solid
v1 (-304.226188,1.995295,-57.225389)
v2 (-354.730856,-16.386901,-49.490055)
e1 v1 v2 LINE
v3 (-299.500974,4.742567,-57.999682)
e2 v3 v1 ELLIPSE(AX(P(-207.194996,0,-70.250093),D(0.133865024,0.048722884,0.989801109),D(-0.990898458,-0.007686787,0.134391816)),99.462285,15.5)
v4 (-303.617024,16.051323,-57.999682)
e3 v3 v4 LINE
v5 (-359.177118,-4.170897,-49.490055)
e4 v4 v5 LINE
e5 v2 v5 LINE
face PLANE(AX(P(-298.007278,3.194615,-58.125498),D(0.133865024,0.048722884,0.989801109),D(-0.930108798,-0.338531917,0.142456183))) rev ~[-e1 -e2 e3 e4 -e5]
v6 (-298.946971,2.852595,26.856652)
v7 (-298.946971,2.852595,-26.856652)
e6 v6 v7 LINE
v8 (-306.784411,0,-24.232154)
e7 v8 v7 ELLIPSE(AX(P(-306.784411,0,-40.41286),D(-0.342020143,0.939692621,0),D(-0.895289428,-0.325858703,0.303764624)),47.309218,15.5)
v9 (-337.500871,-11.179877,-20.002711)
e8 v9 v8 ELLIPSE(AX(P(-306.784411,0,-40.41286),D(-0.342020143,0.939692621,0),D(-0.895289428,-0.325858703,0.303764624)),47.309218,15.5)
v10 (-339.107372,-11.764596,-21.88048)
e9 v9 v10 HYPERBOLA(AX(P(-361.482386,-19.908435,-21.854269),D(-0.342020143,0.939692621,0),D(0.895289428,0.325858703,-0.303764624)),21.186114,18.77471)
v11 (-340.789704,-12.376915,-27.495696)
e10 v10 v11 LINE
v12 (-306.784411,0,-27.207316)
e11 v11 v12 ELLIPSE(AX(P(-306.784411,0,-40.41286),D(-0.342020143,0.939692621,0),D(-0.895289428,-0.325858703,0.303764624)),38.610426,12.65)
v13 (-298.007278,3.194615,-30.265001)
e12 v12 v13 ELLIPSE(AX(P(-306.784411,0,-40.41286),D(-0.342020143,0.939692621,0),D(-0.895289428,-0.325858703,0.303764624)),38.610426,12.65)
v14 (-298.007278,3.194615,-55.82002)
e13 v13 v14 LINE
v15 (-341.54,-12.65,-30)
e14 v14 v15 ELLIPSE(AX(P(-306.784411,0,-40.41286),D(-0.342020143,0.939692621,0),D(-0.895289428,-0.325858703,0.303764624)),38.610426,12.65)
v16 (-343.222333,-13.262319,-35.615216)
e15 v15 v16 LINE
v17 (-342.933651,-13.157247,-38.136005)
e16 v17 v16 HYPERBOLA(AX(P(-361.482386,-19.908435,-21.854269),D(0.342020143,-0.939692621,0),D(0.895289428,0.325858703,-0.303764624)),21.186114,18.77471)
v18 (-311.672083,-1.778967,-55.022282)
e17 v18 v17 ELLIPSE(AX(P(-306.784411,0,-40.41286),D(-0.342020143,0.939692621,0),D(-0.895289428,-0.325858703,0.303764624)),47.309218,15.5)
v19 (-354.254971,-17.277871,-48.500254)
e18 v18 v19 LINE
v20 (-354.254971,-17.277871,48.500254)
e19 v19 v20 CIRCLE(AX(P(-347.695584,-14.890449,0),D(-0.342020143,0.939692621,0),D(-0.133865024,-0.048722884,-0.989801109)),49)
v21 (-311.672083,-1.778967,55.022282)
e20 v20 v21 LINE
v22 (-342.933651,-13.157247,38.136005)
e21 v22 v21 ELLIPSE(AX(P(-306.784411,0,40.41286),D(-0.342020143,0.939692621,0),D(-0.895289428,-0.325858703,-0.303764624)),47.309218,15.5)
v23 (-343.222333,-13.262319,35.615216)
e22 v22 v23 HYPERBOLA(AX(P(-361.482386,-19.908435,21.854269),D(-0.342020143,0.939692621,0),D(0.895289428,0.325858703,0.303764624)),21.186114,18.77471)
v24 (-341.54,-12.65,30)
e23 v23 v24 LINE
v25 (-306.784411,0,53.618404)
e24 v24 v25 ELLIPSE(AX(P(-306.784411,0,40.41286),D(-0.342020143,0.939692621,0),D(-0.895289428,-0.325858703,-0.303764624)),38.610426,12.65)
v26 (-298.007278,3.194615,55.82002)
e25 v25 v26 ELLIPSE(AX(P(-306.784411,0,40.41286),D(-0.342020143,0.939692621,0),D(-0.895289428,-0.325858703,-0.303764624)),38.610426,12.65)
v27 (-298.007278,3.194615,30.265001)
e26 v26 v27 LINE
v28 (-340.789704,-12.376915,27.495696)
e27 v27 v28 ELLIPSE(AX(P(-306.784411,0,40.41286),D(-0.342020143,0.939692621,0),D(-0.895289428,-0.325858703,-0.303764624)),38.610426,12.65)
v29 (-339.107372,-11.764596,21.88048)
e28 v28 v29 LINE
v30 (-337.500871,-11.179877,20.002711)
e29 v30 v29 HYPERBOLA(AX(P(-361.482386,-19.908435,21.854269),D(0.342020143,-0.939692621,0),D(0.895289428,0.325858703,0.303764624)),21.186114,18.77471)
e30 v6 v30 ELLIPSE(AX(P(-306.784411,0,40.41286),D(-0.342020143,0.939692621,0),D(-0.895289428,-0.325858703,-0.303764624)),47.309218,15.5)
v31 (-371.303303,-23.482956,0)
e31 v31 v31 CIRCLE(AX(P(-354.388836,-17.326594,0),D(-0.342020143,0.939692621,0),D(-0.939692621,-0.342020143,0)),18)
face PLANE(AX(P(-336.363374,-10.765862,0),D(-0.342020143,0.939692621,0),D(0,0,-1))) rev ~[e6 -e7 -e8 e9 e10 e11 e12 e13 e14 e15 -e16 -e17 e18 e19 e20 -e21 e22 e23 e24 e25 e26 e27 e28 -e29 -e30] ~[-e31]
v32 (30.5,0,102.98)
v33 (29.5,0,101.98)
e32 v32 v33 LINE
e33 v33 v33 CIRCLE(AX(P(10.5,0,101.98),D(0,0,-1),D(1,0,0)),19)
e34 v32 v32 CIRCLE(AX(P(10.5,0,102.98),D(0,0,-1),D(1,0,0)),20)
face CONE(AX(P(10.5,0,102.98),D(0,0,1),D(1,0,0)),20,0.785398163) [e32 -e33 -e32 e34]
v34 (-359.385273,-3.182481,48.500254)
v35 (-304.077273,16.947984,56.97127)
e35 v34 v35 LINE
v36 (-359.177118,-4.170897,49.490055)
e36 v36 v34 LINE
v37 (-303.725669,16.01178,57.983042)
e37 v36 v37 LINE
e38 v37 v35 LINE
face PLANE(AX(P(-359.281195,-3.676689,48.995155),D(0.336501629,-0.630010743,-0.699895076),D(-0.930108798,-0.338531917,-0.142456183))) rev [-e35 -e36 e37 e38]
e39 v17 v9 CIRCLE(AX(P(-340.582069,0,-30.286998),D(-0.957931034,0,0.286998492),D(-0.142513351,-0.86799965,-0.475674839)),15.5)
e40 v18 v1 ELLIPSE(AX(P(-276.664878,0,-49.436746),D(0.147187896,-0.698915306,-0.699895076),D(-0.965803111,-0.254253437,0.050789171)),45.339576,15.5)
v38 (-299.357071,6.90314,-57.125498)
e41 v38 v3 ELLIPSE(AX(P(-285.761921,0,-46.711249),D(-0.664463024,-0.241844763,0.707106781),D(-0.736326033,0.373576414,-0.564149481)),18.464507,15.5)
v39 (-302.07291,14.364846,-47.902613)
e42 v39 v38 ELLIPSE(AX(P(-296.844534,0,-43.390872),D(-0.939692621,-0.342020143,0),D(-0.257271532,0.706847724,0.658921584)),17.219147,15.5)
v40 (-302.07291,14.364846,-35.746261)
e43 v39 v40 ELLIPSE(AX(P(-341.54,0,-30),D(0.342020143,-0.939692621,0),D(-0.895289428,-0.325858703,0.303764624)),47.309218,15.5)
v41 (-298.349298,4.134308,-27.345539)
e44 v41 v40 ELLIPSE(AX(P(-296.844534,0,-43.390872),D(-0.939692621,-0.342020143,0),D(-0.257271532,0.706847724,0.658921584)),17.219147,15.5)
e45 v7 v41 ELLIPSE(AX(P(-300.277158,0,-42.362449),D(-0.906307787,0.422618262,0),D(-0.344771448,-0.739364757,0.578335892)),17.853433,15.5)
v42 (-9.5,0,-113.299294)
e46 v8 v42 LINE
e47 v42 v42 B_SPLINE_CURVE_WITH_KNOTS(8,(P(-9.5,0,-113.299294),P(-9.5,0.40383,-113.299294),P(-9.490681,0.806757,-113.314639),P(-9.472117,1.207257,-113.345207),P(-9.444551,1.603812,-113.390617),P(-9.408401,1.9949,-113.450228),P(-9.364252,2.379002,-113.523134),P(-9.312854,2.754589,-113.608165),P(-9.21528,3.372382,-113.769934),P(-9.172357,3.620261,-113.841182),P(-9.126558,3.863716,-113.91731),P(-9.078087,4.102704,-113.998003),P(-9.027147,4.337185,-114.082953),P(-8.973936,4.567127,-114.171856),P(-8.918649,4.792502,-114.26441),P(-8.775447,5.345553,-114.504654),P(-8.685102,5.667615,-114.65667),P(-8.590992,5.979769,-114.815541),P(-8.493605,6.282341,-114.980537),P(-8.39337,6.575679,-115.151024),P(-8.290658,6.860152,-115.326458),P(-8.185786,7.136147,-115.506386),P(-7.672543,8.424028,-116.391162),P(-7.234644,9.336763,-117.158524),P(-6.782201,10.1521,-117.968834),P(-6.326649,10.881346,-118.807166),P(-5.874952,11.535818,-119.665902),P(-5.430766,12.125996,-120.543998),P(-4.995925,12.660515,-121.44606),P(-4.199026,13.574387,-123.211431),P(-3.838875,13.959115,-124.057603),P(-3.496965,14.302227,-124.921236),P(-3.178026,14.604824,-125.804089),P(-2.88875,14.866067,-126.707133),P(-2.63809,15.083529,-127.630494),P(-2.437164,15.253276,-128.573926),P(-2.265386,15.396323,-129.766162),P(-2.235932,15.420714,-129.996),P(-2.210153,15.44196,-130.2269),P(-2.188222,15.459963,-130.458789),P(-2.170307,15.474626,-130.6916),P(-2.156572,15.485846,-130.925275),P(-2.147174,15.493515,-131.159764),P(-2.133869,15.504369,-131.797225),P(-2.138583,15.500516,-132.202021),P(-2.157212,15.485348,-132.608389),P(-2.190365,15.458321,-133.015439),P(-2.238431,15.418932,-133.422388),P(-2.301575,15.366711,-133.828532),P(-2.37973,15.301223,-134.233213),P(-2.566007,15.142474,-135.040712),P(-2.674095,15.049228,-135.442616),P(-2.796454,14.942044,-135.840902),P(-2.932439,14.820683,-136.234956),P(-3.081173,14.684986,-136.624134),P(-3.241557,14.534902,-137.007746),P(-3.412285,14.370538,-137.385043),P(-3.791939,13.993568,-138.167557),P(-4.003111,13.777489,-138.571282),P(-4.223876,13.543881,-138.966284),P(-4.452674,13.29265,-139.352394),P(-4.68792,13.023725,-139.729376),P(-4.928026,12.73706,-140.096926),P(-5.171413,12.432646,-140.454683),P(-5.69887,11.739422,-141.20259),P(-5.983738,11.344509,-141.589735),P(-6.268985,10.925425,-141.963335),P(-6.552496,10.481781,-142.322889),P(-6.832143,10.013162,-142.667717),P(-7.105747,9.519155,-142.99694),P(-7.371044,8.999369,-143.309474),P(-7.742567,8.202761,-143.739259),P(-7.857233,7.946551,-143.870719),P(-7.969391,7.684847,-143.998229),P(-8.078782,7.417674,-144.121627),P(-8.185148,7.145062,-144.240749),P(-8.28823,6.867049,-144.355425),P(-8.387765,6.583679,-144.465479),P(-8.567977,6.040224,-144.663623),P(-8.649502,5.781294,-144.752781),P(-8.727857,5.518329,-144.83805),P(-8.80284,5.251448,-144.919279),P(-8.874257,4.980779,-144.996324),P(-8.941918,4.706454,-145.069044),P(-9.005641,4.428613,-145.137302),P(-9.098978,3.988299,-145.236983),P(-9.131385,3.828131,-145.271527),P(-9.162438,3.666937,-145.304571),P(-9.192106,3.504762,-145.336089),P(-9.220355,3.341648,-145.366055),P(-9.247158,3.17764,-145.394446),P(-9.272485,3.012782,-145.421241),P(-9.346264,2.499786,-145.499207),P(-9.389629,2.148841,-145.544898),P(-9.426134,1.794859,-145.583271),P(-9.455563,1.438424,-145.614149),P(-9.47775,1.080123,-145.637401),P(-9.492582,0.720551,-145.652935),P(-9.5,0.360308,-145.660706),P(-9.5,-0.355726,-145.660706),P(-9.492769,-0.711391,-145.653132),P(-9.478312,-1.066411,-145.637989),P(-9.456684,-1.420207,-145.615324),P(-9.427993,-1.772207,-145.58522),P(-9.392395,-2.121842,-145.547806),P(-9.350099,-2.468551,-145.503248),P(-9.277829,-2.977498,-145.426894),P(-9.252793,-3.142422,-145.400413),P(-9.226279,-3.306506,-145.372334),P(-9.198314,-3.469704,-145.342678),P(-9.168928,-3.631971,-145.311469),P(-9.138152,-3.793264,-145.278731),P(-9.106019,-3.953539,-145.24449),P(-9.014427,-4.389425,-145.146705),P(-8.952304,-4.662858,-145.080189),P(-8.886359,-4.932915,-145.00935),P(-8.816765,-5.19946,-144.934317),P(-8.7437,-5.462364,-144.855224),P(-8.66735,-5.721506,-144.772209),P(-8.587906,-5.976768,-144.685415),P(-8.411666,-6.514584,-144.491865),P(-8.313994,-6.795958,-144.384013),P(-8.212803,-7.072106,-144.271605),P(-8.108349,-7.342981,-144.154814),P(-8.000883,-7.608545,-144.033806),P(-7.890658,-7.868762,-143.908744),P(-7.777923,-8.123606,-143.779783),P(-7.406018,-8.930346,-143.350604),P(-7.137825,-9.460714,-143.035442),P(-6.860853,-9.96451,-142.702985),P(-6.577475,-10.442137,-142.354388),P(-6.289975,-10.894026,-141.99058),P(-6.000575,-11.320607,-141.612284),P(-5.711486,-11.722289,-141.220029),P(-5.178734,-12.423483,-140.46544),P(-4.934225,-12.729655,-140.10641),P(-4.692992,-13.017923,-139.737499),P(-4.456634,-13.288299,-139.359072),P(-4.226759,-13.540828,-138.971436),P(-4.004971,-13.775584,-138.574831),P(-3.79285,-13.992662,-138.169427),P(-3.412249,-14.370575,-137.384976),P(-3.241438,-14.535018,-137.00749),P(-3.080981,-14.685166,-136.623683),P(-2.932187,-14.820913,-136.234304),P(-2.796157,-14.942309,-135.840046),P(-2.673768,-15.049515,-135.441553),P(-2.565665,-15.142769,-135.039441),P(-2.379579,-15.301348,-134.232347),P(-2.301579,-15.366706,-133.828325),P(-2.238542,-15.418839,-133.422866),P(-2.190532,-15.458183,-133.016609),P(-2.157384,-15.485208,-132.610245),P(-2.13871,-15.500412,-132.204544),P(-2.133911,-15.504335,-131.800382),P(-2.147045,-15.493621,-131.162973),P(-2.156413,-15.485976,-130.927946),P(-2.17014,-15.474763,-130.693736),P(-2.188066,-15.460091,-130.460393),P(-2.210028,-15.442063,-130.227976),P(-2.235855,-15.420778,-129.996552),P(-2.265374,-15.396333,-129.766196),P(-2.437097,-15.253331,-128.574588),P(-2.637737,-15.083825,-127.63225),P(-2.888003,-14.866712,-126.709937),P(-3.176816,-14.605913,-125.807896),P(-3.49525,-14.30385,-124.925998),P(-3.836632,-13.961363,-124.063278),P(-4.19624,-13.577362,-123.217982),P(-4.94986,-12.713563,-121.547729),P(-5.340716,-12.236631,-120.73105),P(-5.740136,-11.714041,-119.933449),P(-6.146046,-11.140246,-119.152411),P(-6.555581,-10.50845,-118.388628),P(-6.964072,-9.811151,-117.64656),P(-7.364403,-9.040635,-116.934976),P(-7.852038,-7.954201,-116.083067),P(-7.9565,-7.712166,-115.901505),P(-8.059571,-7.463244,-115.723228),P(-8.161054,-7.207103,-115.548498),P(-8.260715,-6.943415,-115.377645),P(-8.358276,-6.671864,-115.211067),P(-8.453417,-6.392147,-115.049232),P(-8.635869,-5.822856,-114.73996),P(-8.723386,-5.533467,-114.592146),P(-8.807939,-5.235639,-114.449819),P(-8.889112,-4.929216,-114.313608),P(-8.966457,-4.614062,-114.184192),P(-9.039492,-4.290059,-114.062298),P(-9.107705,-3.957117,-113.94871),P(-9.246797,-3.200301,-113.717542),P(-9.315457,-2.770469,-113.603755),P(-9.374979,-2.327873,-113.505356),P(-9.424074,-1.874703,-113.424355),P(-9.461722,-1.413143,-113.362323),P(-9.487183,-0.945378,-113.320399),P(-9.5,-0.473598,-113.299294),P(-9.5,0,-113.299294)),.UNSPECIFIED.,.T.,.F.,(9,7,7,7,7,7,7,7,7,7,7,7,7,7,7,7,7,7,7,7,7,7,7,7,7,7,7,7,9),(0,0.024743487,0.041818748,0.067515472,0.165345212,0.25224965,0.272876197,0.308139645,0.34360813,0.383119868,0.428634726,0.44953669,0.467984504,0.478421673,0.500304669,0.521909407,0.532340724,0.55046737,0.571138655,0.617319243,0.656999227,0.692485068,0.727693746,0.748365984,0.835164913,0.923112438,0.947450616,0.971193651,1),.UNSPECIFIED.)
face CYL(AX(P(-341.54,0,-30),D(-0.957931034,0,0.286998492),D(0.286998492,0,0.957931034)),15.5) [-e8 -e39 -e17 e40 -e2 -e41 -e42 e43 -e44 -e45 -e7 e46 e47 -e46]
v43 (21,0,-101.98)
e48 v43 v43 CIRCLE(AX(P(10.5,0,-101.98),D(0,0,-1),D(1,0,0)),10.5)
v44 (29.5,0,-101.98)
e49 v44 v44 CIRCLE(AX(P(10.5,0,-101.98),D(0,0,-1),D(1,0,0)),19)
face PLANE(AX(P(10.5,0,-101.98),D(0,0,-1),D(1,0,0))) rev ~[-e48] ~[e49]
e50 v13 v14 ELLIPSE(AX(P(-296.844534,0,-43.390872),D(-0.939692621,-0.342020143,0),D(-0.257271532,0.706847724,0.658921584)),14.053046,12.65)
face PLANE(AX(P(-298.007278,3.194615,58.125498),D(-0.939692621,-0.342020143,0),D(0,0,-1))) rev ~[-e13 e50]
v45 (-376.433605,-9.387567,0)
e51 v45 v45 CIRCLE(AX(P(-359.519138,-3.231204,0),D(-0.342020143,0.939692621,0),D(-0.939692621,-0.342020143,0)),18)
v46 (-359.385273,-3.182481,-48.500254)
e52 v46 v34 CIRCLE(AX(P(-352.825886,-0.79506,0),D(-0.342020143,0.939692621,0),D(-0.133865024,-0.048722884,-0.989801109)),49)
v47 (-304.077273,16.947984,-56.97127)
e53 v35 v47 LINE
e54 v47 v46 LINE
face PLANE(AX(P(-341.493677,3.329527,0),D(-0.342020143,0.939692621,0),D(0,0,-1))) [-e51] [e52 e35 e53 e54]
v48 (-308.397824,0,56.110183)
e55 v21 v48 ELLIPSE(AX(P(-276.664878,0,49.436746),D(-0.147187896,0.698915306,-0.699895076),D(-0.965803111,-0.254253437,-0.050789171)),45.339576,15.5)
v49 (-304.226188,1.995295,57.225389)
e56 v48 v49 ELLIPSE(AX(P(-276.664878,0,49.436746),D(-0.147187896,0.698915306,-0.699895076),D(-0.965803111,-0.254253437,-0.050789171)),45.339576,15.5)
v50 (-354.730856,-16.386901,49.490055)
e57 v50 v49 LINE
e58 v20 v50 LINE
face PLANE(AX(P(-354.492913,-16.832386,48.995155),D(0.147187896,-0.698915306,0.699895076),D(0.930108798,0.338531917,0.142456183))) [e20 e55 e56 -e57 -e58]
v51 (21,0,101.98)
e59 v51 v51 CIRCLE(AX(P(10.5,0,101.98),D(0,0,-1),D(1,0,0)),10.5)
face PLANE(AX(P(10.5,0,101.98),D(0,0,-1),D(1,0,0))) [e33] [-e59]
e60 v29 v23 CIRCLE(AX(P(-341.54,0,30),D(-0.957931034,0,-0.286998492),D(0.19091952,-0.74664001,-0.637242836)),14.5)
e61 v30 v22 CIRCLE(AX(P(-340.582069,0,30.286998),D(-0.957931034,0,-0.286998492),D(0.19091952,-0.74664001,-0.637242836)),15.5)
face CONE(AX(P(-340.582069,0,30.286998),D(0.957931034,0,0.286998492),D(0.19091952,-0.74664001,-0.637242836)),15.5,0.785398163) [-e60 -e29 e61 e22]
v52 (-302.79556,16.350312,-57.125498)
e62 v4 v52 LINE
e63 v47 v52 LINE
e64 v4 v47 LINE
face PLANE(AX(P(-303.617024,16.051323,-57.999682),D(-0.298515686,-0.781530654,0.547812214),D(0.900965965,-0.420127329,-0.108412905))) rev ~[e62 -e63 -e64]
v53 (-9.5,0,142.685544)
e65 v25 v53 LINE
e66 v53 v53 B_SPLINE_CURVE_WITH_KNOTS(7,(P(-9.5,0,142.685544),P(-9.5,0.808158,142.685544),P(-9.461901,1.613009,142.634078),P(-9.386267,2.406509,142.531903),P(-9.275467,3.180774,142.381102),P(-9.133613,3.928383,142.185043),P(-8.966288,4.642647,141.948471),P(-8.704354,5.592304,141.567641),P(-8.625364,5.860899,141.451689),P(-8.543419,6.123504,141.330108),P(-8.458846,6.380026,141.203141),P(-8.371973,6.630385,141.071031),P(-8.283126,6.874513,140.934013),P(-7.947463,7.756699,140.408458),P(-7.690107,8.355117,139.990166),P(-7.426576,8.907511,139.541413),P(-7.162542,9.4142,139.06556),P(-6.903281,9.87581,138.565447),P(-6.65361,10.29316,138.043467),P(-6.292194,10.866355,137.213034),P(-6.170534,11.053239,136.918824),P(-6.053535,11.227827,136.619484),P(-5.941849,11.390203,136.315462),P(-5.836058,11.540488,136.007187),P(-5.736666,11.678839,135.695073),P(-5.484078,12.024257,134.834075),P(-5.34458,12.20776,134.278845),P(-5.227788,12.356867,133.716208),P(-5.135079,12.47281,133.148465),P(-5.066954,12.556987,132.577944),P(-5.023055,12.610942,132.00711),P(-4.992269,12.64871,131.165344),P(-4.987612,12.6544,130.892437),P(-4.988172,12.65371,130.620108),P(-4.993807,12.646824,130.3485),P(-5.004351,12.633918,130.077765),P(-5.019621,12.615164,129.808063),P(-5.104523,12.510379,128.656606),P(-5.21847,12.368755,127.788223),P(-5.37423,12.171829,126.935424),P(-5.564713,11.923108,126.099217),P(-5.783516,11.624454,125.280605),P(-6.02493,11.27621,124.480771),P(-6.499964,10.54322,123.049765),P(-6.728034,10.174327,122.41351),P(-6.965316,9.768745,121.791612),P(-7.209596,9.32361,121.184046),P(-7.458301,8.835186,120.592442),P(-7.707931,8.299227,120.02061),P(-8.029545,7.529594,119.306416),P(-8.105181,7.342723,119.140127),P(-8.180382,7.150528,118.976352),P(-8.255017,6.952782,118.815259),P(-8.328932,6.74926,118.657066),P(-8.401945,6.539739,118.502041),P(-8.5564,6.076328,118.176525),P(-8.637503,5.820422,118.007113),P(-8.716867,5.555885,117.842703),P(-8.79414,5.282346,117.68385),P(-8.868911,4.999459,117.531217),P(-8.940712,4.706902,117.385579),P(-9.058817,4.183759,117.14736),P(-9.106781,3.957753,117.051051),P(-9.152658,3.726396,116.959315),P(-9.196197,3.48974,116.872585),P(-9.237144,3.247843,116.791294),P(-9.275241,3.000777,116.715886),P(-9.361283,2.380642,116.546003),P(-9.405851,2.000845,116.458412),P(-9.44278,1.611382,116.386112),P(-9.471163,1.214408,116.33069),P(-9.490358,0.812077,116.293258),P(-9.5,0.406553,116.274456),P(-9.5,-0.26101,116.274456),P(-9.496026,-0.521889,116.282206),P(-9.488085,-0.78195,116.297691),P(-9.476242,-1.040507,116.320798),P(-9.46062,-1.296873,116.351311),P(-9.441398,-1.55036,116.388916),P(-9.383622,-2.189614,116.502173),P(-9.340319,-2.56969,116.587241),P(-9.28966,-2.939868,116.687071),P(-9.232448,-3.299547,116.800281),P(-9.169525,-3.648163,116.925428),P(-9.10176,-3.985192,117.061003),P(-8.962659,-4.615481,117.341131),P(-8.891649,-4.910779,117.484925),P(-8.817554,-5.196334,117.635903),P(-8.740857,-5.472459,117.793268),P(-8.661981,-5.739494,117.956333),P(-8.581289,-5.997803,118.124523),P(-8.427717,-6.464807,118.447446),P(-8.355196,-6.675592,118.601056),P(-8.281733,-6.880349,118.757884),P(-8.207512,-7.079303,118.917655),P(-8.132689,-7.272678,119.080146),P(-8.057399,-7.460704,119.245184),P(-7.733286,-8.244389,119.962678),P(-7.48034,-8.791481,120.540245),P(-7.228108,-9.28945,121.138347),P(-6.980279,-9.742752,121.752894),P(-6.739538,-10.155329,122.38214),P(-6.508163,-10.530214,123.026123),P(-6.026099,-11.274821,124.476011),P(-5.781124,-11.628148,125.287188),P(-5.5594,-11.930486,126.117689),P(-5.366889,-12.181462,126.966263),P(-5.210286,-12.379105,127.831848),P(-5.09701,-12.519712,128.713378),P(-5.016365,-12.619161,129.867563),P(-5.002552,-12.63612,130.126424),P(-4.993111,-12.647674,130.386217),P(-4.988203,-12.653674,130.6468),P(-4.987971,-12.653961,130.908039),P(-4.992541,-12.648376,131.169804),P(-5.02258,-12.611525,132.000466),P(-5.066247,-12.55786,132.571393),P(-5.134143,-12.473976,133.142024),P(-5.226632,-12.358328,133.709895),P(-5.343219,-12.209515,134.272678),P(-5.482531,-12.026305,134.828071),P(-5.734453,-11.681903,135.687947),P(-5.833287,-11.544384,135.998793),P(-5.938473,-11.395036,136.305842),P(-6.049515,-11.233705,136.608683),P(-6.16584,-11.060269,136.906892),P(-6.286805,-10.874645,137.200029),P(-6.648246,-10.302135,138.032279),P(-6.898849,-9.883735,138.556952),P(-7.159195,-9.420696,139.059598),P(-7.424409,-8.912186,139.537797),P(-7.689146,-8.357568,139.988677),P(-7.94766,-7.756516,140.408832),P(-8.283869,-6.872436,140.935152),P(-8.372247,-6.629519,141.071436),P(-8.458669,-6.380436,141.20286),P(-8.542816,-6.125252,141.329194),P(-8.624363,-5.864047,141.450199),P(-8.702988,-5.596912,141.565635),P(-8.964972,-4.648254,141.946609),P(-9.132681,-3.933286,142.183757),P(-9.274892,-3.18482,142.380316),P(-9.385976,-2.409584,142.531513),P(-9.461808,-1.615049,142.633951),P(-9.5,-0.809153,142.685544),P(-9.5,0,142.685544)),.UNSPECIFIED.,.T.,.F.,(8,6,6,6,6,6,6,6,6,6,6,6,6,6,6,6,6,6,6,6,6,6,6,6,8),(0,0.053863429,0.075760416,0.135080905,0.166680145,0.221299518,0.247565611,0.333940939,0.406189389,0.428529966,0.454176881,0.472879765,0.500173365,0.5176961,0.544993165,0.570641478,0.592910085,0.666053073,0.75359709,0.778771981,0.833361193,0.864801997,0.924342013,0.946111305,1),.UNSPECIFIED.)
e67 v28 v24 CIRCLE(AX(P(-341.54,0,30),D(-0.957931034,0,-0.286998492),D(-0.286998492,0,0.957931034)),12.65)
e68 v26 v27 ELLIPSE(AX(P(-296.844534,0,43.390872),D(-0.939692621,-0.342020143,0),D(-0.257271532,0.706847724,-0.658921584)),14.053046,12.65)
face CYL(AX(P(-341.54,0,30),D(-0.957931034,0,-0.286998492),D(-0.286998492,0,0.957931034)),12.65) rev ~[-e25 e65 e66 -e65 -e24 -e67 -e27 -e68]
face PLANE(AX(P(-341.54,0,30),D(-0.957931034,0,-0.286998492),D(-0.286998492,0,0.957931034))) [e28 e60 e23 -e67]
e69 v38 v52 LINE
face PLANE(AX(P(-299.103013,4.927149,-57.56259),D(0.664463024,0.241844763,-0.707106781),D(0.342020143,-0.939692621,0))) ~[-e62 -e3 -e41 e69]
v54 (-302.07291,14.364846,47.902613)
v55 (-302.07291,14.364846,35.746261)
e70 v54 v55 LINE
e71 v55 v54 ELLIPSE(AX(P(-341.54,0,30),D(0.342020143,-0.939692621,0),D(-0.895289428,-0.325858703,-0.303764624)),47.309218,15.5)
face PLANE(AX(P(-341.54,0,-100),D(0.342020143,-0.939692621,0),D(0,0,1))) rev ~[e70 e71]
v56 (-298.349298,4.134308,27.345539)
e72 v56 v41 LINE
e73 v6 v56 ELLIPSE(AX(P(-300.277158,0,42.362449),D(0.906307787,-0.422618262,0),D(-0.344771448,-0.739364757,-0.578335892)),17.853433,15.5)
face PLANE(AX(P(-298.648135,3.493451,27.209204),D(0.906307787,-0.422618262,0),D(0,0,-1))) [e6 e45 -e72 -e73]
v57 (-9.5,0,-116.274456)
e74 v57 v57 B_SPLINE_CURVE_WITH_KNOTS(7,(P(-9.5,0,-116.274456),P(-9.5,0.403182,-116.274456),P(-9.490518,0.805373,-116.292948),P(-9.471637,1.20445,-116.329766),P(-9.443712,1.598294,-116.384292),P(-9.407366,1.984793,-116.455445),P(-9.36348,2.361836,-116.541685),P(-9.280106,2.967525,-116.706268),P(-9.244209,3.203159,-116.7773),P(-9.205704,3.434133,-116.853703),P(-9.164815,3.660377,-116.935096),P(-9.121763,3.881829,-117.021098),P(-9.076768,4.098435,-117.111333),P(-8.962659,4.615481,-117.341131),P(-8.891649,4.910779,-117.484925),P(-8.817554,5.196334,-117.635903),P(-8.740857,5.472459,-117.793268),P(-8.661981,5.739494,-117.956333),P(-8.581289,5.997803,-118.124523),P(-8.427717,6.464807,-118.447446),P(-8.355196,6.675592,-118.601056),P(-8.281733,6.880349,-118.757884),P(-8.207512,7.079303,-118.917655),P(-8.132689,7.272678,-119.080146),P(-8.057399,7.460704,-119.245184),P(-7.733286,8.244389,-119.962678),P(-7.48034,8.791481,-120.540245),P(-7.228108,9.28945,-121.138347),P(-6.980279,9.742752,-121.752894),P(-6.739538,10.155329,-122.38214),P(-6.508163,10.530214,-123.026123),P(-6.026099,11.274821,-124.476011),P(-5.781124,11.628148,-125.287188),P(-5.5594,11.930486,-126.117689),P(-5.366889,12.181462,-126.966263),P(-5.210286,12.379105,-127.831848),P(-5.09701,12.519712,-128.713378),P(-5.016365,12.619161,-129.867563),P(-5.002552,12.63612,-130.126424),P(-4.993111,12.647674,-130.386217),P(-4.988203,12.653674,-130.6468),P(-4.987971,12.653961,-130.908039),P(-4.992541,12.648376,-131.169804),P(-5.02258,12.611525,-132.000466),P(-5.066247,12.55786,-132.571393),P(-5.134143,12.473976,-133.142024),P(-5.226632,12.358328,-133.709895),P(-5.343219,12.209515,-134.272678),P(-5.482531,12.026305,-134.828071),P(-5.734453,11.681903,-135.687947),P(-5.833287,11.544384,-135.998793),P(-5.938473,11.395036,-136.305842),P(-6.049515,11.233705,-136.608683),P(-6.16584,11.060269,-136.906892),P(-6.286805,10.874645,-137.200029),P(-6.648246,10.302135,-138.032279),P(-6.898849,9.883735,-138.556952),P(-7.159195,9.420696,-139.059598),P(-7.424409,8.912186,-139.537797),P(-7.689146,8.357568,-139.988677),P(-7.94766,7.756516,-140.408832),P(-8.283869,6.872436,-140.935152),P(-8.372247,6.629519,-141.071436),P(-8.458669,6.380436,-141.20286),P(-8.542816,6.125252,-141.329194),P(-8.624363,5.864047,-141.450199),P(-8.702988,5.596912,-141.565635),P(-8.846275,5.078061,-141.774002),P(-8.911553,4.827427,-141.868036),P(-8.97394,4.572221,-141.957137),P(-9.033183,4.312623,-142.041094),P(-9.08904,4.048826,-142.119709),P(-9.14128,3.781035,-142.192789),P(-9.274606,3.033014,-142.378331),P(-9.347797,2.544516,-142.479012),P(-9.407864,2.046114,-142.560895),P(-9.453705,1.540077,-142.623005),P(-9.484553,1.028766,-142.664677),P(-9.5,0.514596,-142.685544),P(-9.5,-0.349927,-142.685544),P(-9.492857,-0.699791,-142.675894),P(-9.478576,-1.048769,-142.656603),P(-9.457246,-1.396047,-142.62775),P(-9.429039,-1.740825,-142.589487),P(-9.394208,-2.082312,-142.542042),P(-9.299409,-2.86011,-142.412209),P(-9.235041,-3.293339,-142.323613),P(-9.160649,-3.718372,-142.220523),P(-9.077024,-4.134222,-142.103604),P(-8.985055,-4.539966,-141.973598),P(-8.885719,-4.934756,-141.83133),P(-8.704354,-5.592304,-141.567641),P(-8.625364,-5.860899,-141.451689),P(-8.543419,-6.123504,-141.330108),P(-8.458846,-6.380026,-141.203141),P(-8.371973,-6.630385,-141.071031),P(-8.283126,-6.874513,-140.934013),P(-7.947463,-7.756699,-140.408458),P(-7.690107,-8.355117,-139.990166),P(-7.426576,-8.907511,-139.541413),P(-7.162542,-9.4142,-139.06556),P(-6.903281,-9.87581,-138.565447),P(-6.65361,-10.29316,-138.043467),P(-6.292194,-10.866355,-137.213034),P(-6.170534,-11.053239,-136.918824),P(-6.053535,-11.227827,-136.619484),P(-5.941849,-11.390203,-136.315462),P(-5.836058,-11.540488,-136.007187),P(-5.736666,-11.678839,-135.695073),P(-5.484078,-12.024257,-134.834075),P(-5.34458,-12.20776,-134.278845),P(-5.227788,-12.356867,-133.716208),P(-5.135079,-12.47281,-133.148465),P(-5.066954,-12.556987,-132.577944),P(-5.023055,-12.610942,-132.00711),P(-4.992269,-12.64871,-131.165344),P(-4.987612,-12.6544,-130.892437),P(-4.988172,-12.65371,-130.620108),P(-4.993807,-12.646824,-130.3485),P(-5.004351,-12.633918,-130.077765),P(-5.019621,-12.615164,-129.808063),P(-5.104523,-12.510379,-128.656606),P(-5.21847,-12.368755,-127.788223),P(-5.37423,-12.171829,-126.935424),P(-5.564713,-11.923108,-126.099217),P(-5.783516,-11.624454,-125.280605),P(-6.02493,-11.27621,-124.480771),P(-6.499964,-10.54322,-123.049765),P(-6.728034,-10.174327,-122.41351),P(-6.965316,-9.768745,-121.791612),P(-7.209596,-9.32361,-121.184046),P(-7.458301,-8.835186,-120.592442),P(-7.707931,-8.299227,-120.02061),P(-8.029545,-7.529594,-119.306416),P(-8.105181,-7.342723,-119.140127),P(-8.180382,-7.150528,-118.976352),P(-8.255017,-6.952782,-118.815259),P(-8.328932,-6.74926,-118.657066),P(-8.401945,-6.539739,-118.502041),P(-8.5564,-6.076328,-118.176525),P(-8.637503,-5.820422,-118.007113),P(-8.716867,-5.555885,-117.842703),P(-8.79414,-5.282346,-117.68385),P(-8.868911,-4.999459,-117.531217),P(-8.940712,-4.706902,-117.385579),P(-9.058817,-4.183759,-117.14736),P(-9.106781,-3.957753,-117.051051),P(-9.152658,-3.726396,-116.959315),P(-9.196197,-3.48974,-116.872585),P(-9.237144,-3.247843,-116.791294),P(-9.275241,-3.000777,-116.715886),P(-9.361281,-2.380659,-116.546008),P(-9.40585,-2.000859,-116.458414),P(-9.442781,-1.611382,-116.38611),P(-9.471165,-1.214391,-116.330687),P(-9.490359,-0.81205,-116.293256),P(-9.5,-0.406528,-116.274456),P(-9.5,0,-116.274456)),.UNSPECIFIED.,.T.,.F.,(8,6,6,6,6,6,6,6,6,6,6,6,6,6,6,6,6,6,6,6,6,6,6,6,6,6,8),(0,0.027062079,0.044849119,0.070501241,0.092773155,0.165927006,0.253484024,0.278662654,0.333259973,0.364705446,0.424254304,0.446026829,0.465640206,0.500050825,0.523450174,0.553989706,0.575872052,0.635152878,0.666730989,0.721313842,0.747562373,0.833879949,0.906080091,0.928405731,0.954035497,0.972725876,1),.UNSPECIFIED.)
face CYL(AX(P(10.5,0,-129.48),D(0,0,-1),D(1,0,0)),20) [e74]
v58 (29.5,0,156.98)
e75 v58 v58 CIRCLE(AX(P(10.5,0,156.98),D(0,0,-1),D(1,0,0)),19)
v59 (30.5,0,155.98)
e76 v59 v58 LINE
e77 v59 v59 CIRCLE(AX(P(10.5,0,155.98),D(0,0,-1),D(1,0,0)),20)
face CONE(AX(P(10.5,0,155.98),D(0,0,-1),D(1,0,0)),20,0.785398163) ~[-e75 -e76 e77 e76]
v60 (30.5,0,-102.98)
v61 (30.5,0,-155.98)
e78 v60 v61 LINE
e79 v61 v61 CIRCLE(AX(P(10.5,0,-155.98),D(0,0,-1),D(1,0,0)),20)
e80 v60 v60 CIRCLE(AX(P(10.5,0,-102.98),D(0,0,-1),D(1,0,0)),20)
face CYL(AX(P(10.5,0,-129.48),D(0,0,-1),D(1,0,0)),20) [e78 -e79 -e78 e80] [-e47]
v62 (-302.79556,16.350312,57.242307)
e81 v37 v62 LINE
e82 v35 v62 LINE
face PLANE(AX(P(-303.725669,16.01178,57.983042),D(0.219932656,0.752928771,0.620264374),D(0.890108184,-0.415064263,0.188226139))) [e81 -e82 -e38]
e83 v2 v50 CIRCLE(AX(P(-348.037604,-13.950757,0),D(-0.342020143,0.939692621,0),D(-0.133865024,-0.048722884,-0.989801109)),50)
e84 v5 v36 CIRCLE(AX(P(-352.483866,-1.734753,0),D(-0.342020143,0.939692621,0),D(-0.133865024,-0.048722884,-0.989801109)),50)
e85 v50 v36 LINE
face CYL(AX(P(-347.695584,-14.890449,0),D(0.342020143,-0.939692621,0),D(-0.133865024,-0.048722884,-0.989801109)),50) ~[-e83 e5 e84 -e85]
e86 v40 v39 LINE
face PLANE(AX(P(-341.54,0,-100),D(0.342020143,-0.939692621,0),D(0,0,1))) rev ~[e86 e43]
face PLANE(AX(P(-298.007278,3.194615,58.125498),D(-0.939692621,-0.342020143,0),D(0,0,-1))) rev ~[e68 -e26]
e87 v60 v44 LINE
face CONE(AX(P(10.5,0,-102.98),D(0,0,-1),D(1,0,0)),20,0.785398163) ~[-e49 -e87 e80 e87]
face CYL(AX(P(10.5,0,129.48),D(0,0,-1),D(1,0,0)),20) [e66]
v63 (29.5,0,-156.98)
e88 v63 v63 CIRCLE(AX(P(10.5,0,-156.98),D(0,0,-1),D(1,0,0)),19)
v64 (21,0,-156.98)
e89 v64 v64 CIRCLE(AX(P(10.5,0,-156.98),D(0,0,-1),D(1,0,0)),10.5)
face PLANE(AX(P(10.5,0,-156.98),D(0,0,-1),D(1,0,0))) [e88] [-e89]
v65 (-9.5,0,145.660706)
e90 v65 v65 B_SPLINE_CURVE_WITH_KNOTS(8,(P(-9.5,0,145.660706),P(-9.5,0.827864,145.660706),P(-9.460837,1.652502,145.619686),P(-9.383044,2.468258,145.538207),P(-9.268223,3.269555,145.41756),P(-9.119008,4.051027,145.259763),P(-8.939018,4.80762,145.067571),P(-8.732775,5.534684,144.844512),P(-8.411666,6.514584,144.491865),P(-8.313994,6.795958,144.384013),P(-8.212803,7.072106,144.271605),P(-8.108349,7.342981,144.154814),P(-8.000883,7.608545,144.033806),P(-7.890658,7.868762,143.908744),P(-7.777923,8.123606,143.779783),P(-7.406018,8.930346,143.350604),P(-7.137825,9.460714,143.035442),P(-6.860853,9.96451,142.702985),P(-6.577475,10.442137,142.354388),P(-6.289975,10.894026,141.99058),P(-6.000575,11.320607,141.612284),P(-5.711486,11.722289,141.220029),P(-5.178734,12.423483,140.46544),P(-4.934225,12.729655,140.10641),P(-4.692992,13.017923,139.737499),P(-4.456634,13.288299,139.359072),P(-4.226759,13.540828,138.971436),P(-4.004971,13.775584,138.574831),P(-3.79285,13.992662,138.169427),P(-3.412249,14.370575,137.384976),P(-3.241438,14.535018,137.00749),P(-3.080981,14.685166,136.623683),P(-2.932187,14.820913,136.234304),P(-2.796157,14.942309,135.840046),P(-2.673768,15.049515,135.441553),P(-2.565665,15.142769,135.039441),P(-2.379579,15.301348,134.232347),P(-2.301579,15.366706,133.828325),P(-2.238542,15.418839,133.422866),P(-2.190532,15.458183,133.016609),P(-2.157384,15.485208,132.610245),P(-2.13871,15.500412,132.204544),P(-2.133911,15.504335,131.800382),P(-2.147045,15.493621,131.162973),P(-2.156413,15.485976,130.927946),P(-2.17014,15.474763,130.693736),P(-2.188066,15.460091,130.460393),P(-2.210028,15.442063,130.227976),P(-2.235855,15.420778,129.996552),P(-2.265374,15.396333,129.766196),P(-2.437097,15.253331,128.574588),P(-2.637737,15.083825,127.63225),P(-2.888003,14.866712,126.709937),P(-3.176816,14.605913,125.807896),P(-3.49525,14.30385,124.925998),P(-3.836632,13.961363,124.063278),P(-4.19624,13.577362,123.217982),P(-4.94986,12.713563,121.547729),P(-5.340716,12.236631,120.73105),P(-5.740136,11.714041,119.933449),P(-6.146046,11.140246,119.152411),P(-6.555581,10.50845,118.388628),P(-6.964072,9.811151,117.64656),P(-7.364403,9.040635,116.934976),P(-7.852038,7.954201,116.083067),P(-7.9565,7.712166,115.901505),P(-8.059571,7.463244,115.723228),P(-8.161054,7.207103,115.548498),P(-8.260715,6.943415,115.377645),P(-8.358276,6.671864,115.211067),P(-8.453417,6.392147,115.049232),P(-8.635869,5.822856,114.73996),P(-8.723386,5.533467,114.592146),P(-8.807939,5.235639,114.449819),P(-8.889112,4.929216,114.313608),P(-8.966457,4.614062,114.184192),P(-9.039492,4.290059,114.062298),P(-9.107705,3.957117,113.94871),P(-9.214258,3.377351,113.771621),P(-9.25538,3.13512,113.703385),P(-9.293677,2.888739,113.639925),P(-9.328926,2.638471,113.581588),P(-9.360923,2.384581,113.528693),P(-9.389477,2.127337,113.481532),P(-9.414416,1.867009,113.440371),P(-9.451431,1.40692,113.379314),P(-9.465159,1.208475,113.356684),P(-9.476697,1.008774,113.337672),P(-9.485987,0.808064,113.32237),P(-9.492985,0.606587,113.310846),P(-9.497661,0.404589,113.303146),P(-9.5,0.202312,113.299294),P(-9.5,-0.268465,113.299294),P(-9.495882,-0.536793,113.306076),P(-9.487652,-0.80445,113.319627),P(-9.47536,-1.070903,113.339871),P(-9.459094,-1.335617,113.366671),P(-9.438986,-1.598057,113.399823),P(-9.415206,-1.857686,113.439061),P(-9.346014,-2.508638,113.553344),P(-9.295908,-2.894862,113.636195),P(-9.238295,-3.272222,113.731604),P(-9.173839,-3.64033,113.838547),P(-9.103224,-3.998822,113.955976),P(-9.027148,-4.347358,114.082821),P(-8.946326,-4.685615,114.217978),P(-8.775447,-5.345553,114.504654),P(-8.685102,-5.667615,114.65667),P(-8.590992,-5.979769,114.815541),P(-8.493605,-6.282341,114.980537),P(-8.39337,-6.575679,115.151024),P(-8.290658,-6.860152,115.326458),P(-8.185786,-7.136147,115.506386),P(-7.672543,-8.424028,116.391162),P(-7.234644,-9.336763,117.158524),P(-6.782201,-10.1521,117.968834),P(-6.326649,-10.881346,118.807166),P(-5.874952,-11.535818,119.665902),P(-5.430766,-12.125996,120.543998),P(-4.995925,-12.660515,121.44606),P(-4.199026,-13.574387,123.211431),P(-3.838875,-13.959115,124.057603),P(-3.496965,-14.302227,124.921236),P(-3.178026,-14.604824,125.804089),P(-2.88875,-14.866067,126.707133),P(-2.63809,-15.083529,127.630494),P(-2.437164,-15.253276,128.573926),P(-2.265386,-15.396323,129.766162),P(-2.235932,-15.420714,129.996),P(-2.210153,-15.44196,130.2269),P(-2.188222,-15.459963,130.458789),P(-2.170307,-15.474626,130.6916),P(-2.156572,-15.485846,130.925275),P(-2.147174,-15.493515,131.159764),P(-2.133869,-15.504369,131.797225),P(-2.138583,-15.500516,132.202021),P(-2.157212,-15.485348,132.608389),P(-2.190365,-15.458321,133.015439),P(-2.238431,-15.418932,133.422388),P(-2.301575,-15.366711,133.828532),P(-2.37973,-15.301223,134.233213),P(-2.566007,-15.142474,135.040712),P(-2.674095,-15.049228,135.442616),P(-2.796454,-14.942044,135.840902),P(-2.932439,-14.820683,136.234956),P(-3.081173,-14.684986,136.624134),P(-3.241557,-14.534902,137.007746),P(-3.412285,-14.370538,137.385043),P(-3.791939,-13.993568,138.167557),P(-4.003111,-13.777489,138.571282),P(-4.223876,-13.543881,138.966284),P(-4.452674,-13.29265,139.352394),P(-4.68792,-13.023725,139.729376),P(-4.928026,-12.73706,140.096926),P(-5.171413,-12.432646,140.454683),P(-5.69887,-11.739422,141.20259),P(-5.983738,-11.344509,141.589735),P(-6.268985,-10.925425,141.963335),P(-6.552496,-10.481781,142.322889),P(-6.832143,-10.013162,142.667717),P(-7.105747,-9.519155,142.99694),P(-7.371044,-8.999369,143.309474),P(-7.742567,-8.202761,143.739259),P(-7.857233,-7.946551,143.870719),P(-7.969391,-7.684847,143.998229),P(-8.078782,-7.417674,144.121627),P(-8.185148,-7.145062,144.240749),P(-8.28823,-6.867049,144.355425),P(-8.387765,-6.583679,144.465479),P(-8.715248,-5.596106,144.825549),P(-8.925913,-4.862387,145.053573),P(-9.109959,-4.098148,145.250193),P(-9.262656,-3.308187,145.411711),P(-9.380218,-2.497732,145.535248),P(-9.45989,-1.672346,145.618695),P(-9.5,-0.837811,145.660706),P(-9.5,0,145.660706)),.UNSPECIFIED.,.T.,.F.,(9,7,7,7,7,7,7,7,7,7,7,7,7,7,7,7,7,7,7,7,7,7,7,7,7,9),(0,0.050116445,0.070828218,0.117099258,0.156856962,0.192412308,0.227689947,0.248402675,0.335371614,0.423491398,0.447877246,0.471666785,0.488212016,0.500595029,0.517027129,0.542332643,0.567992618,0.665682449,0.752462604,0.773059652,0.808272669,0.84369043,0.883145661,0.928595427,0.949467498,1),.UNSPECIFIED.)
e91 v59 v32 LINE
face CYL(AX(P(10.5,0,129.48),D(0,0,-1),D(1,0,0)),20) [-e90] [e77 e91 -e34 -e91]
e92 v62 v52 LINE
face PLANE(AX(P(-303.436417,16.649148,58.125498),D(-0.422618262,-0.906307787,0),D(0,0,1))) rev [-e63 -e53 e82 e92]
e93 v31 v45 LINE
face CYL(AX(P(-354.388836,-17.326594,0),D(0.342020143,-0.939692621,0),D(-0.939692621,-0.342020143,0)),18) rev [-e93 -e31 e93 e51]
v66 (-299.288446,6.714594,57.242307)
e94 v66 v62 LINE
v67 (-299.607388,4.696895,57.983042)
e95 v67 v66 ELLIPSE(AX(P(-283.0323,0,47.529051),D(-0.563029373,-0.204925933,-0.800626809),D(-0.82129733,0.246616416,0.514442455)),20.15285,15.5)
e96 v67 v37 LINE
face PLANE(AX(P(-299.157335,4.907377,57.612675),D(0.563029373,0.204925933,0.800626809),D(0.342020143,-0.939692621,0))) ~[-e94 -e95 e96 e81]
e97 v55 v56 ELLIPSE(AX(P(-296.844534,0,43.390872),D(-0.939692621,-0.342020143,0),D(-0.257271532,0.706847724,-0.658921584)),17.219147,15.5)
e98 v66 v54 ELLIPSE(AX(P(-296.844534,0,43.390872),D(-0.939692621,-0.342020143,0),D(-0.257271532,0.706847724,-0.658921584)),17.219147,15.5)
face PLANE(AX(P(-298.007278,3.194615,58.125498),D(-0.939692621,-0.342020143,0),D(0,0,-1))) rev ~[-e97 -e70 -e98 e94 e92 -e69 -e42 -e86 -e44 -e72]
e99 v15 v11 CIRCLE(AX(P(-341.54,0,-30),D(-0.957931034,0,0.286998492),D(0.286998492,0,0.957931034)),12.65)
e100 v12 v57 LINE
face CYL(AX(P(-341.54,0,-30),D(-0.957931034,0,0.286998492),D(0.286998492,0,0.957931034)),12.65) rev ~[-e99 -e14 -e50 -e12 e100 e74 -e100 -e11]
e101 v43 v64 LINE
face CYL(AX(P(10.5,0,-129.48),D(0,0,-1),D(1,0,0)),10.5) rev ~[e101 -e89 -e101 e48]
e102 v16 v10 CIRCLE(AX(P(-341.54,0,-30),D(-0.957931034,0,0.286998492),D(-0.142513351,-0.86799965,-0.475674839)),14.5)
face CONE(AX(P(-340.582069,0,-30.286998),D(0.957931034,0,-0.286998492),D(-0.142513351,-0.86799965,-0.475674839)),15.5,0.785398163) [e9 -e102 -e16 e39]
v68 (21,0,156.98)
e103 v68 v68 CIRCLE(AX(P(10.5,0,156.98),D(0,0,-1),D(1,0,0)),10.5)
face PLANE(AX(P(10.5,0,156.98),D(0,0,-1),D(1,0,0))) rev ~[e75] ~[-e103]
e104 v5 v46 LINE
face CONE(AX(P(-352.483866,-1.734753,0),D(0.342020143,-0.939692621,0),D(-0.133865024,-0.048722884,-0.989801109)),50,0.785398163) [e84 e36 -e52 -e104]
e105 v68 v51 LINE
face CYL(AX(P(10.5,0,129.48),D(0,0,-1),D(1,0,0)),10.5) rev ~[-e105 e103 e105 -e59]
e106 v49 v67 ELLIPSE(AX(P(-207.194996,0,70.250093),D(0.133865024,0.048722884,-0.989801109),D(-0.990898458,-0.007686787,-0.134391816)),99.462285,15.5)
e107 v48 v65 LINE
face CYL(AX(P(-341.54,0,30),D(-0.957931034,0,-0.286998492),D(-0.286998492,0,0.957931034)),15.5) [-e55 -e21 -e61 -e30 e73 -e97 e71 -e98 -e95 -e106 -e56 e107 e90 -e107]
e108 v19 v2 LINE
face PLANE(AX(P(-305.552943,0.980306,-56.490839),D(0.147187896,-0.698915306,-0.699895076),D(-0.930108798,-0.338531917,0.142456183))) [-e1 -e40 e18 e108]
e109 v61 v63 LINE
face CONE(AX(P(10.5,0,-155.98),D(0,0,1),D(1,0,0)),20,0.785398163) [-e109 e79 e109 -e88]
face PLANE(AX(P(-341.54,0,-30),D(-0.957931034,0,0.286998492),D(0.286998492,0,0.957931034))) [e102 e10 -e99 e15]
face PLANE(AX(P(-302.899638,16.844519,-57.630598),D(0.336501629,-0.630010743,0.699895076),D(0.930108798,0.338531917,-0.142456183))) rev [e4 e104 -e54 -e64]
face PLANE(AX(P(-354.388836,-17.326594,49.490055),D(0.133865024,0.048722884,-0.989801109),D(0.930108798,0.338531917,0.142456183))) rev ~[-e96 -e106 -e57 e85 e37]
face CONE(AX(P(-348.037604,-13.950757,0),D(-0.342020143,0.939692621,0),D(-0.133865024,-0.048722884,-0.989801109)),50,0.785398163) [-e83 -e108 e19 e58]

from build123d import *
from OCP.BRepFilletAPI import BRepFilletAPI_MakeChamfer

# Parameters (mm, degrees)
SKETCH1_W                = 9.5
SKETCH1_H                = 55
BOSS_EXTRUDE1_REACH      = 418.864
BOSS_EXTRUDE1_END_RADIUS = 20
SKETCH2_R                = 15.5
SKETCH2_R_2              = 12.65
BOSS_EXTRUDE2_REACH      = 418.864
BOSS_EXTRUDE2_END_RADIUS = 20
SKETCH3_R                = 15.5
SKETCH3_R_2              = 12.65
SKETCH9_W                = 200
SKETCH9_H                = 33.234380705
CUT_EXTRUDE2_DEPTH       = 198.5
SKETCH8_R                = 18
BOSS_EXTRUDE3_DEPTH      = 15
CHAMFER1_SIZE            = 1
CHAMFER2_SIZE            = 1
CHAMFER2_SIZE2           = 0.883191486
CHAMFER3_SIZE            = 1


with BuildPart() as part:
    # Sketch1 → Revolve1 (revolve)
    with BuildSketch(Plane(origin=(0, 0, 0), x_dir=(1, 0, 0), z_dir=(0, 1, 0)), mode=Mode.PRIVATE) as revolve1_sk:
        with Locations((-4.75, 129.48)):
            Rectangle(SKETCH1_W, SKETCH1_H)
        with Locations((-4.75, -129.48)):
            Rectangle(SKETCH1_W, SKETCH1_H)
    revolve(revolve1_sk.sketch.rotate(Axis((10.5, 0, -101.98), (0, 0, -1)), 180), axis=Axis((10.5, 0, -101.98), (0, 0, -1)))

    # Boss-Extrude1: up to this cylinder (the profile starts outside it)
    boss_extrude1_end = Plane(origin=(10.5, 0, -44.427968), z_dir=(0, 0, 1)) * Cylinder(BOSS_EXTRUDE1_END_RADIUS, 878.728, mode=Mode.PRIVATE)
    # Sketch2 → Boss-Extrude1 (add, up to the surface)
    with BuildSketch(Plane(origin=(-341.54, 0, -30), x_dir=(0.28699849189640086, 0, 0.9579310338689272), z_dir=(-0.9579310338689272, 0, 0.28699849189640086)), mode=Mode.PRIVATE) as boss_extrude1_sk1:
        Circle(SKETCH2_R)
        Circle(SKETCH2_R_2, mode=Mode.SUBTRACT)
    boss_extrude1_tool1 = extrude(boss_extrude1_sk1.sketch, amount=-BOSS_EXTRUDE1_REACH, mode=Mode.PRIVATE) - boss_extrude1_end
    add(boss_extrude1_tool1.solids().sort_by_distance((-345.862655, 0, -44.427968))[0])

    # Boss-Extrude2: up to this cylinder (the profile starts outside it)
    boss_extrude2_end = Plane(origin=(10.5, 0, 15.572032), z_dir=(0, 0, 1)) * Cylinder(BOSS_EXTRUDE2_END_RADIUS, 878.728, mode=Mode.PRIVATE)
    # Sketch3 → Boss-Extrude2 (add, up to the surface)
    with BuildSketch(Plane(origin=(-341.54, 0, 30), x_dir=(-0.28699849189640053, 0, 0.9579310338689273), z_dir=(-0.9579310338689273, 0, -0.28699849189640053)), mode=Mode.PRIVATE) as boss_extrude2_sk1:
        Circle(SKETCH3_R)
        Circle(SKETCH3_R_2, mode=Mode.SUBTRACT)
    boss_extrude2_tool1 = extrude(boss_extrude2_sk1.sketch, amount=-BOSS_EXTRUDE2_REACH, mode=Mode.PRIVATE) - boss_extrude2_end
    add(boss_extrude2_tool1.solids().sort_by_distance((-337.217345, 0, 15.572032))[0])

    # Sketch9 → Cut-Extrude2 (cut, symmetric)
    with BuildSketch(Plane(origin=(-301.587409551, -109.768840106, 0), x_dir=(0, 0, 1), z_dir=(-0.9396926207859128, -0.34202014332565694, 0))):
        with Locations((0, 133.430750104)):
            Rectangle(SKETCH9_W, SKETCH9_H)
    extrude(amount=CUT_EXTRUDE2_DEPTH, both=True, mode=Mode.SUBTRACT)

    # Sketch8 → Boss-Extrude3 (add)
    with BuildSketch(Plane(origin=(-35.886958817, 98.598609003, 0), x_dir=(0, 0, -1), z_dir=(-0.34202014332565694, 0.9396926207859128, 0))):
        with BuildLine():
            Line((-58.125498382, 278.942617703), (58.125498382, 278.942617703))
            Line((58.125498382, 278.942617703), (49.490055464, 338.942617703))
            ThreePointArc((49.490055464, 338.942617703), (0, 381.819808554), (-49.490055464, 338.942617703))
            Line((-49.490055464, 338.942617703), (-58.125498382, 278.942617703))
        make_face()
        with Locations(Location((0, 338.942617703, 0), (0, 0, 90))):
            Circle(SKETCH8_R, mode=Mode.SUBTRACT)
    extrude(amount=BOSS_EXTRUDE3_DEPTH)

    # Chamfer1
    chamfer1_edges = [part.edges().sort_by_distance(p)[0] for p in [
        (-9.5, 0, -156.98),
        (-9.5, 0, -101.98),
        (-9.5, 0, 101.98),
        (-9.5, 0, 156.98),
    ]]
    chamfer(chamfer1_edges, length=CHAMFER1_SIZE)

    # Chamfer2: one chamfer whose edges measure the first distance from different faces: ONE call of the kernel's chamfer builder (chamfer() names one face for all edges)
    chamfer2_edges_1 = [part.edges().sort_by_distance(p)[0] for p in [
        (-298.007278296, 3.194614917, 0),
        (-303.137580446, 17.290004229, 0),
        (-331.328359069, 7.029399929, -53.807776923),
        (-331.328359069, 7.029399929, 53.807776923),
        (-399.810517535, -17.896067331, 0),
        (-329.918850493, -8.420247491, -53.237897301),
        (-329.918850493, -8.420247491, 53.237897301),
        (-394.680215385, -31.991456643, 0),
    ]]
    chamfer2_edges_2 = [part.edges().sort_by_distance(p)[0] for p in [
        (-300.914930544, 11.183323814, -58.125498382),
    ]]
    chamfer2_side_2 = [part.faces().sort_by_distance(p)[0] for p in [
        (-300.973675486, 11.344724214, 0),
    ]]
    chamfer2_edges_3 = [part.edges().sort_by_distance(p)[0] for p in [
        (-300.914930544, 11.183323814, 58.125498382),
    ]]
    chamfer2_side_3 = [part.faces().sort_by_distance(p)[0] for p in [
        (-329.11686309, -0.055580808, 53.758111659),
    ]]
    chamfer2 = BRepFilletAPI_MakeChamfer(part.part.solid().wrapped)
    for e in chamfer2_edges_1:
        chamfer2.Add(CHAMFER2_SIZE, e.wrapped)
    for e in chamfer2_edges_2:
        chamfer2.Add(CHAMFER2_SIZE, CHAMFER2_SIZE2, e.wrapped, chamfer2_side_2[0].wrapped)  # the first distance lies on this face
    for e in chamfer2_edges_3:
        chamfer2.Add(CHAMFER2_SIZE, CHAMFER2_SIZE2, e.wrapped, chamfer2_side_3[0].wrapped)  # the first distance lies on this face
    add(Compound.cast(chamfer2.Shape()), mode=Mode.REPLACE)

    # Chamfer3
    chamfer3_edges = [part.edges().sort_by_distance(p)[0] for p in [
        (-341.07783166, -15.416120436, -28.457394695),
        (-341.07783166, -15.416120436, 28.457394695),
    ]]
    chamfer(chamfer3_edges, length=CHAMFER3_SIZE)


solid = part.part
